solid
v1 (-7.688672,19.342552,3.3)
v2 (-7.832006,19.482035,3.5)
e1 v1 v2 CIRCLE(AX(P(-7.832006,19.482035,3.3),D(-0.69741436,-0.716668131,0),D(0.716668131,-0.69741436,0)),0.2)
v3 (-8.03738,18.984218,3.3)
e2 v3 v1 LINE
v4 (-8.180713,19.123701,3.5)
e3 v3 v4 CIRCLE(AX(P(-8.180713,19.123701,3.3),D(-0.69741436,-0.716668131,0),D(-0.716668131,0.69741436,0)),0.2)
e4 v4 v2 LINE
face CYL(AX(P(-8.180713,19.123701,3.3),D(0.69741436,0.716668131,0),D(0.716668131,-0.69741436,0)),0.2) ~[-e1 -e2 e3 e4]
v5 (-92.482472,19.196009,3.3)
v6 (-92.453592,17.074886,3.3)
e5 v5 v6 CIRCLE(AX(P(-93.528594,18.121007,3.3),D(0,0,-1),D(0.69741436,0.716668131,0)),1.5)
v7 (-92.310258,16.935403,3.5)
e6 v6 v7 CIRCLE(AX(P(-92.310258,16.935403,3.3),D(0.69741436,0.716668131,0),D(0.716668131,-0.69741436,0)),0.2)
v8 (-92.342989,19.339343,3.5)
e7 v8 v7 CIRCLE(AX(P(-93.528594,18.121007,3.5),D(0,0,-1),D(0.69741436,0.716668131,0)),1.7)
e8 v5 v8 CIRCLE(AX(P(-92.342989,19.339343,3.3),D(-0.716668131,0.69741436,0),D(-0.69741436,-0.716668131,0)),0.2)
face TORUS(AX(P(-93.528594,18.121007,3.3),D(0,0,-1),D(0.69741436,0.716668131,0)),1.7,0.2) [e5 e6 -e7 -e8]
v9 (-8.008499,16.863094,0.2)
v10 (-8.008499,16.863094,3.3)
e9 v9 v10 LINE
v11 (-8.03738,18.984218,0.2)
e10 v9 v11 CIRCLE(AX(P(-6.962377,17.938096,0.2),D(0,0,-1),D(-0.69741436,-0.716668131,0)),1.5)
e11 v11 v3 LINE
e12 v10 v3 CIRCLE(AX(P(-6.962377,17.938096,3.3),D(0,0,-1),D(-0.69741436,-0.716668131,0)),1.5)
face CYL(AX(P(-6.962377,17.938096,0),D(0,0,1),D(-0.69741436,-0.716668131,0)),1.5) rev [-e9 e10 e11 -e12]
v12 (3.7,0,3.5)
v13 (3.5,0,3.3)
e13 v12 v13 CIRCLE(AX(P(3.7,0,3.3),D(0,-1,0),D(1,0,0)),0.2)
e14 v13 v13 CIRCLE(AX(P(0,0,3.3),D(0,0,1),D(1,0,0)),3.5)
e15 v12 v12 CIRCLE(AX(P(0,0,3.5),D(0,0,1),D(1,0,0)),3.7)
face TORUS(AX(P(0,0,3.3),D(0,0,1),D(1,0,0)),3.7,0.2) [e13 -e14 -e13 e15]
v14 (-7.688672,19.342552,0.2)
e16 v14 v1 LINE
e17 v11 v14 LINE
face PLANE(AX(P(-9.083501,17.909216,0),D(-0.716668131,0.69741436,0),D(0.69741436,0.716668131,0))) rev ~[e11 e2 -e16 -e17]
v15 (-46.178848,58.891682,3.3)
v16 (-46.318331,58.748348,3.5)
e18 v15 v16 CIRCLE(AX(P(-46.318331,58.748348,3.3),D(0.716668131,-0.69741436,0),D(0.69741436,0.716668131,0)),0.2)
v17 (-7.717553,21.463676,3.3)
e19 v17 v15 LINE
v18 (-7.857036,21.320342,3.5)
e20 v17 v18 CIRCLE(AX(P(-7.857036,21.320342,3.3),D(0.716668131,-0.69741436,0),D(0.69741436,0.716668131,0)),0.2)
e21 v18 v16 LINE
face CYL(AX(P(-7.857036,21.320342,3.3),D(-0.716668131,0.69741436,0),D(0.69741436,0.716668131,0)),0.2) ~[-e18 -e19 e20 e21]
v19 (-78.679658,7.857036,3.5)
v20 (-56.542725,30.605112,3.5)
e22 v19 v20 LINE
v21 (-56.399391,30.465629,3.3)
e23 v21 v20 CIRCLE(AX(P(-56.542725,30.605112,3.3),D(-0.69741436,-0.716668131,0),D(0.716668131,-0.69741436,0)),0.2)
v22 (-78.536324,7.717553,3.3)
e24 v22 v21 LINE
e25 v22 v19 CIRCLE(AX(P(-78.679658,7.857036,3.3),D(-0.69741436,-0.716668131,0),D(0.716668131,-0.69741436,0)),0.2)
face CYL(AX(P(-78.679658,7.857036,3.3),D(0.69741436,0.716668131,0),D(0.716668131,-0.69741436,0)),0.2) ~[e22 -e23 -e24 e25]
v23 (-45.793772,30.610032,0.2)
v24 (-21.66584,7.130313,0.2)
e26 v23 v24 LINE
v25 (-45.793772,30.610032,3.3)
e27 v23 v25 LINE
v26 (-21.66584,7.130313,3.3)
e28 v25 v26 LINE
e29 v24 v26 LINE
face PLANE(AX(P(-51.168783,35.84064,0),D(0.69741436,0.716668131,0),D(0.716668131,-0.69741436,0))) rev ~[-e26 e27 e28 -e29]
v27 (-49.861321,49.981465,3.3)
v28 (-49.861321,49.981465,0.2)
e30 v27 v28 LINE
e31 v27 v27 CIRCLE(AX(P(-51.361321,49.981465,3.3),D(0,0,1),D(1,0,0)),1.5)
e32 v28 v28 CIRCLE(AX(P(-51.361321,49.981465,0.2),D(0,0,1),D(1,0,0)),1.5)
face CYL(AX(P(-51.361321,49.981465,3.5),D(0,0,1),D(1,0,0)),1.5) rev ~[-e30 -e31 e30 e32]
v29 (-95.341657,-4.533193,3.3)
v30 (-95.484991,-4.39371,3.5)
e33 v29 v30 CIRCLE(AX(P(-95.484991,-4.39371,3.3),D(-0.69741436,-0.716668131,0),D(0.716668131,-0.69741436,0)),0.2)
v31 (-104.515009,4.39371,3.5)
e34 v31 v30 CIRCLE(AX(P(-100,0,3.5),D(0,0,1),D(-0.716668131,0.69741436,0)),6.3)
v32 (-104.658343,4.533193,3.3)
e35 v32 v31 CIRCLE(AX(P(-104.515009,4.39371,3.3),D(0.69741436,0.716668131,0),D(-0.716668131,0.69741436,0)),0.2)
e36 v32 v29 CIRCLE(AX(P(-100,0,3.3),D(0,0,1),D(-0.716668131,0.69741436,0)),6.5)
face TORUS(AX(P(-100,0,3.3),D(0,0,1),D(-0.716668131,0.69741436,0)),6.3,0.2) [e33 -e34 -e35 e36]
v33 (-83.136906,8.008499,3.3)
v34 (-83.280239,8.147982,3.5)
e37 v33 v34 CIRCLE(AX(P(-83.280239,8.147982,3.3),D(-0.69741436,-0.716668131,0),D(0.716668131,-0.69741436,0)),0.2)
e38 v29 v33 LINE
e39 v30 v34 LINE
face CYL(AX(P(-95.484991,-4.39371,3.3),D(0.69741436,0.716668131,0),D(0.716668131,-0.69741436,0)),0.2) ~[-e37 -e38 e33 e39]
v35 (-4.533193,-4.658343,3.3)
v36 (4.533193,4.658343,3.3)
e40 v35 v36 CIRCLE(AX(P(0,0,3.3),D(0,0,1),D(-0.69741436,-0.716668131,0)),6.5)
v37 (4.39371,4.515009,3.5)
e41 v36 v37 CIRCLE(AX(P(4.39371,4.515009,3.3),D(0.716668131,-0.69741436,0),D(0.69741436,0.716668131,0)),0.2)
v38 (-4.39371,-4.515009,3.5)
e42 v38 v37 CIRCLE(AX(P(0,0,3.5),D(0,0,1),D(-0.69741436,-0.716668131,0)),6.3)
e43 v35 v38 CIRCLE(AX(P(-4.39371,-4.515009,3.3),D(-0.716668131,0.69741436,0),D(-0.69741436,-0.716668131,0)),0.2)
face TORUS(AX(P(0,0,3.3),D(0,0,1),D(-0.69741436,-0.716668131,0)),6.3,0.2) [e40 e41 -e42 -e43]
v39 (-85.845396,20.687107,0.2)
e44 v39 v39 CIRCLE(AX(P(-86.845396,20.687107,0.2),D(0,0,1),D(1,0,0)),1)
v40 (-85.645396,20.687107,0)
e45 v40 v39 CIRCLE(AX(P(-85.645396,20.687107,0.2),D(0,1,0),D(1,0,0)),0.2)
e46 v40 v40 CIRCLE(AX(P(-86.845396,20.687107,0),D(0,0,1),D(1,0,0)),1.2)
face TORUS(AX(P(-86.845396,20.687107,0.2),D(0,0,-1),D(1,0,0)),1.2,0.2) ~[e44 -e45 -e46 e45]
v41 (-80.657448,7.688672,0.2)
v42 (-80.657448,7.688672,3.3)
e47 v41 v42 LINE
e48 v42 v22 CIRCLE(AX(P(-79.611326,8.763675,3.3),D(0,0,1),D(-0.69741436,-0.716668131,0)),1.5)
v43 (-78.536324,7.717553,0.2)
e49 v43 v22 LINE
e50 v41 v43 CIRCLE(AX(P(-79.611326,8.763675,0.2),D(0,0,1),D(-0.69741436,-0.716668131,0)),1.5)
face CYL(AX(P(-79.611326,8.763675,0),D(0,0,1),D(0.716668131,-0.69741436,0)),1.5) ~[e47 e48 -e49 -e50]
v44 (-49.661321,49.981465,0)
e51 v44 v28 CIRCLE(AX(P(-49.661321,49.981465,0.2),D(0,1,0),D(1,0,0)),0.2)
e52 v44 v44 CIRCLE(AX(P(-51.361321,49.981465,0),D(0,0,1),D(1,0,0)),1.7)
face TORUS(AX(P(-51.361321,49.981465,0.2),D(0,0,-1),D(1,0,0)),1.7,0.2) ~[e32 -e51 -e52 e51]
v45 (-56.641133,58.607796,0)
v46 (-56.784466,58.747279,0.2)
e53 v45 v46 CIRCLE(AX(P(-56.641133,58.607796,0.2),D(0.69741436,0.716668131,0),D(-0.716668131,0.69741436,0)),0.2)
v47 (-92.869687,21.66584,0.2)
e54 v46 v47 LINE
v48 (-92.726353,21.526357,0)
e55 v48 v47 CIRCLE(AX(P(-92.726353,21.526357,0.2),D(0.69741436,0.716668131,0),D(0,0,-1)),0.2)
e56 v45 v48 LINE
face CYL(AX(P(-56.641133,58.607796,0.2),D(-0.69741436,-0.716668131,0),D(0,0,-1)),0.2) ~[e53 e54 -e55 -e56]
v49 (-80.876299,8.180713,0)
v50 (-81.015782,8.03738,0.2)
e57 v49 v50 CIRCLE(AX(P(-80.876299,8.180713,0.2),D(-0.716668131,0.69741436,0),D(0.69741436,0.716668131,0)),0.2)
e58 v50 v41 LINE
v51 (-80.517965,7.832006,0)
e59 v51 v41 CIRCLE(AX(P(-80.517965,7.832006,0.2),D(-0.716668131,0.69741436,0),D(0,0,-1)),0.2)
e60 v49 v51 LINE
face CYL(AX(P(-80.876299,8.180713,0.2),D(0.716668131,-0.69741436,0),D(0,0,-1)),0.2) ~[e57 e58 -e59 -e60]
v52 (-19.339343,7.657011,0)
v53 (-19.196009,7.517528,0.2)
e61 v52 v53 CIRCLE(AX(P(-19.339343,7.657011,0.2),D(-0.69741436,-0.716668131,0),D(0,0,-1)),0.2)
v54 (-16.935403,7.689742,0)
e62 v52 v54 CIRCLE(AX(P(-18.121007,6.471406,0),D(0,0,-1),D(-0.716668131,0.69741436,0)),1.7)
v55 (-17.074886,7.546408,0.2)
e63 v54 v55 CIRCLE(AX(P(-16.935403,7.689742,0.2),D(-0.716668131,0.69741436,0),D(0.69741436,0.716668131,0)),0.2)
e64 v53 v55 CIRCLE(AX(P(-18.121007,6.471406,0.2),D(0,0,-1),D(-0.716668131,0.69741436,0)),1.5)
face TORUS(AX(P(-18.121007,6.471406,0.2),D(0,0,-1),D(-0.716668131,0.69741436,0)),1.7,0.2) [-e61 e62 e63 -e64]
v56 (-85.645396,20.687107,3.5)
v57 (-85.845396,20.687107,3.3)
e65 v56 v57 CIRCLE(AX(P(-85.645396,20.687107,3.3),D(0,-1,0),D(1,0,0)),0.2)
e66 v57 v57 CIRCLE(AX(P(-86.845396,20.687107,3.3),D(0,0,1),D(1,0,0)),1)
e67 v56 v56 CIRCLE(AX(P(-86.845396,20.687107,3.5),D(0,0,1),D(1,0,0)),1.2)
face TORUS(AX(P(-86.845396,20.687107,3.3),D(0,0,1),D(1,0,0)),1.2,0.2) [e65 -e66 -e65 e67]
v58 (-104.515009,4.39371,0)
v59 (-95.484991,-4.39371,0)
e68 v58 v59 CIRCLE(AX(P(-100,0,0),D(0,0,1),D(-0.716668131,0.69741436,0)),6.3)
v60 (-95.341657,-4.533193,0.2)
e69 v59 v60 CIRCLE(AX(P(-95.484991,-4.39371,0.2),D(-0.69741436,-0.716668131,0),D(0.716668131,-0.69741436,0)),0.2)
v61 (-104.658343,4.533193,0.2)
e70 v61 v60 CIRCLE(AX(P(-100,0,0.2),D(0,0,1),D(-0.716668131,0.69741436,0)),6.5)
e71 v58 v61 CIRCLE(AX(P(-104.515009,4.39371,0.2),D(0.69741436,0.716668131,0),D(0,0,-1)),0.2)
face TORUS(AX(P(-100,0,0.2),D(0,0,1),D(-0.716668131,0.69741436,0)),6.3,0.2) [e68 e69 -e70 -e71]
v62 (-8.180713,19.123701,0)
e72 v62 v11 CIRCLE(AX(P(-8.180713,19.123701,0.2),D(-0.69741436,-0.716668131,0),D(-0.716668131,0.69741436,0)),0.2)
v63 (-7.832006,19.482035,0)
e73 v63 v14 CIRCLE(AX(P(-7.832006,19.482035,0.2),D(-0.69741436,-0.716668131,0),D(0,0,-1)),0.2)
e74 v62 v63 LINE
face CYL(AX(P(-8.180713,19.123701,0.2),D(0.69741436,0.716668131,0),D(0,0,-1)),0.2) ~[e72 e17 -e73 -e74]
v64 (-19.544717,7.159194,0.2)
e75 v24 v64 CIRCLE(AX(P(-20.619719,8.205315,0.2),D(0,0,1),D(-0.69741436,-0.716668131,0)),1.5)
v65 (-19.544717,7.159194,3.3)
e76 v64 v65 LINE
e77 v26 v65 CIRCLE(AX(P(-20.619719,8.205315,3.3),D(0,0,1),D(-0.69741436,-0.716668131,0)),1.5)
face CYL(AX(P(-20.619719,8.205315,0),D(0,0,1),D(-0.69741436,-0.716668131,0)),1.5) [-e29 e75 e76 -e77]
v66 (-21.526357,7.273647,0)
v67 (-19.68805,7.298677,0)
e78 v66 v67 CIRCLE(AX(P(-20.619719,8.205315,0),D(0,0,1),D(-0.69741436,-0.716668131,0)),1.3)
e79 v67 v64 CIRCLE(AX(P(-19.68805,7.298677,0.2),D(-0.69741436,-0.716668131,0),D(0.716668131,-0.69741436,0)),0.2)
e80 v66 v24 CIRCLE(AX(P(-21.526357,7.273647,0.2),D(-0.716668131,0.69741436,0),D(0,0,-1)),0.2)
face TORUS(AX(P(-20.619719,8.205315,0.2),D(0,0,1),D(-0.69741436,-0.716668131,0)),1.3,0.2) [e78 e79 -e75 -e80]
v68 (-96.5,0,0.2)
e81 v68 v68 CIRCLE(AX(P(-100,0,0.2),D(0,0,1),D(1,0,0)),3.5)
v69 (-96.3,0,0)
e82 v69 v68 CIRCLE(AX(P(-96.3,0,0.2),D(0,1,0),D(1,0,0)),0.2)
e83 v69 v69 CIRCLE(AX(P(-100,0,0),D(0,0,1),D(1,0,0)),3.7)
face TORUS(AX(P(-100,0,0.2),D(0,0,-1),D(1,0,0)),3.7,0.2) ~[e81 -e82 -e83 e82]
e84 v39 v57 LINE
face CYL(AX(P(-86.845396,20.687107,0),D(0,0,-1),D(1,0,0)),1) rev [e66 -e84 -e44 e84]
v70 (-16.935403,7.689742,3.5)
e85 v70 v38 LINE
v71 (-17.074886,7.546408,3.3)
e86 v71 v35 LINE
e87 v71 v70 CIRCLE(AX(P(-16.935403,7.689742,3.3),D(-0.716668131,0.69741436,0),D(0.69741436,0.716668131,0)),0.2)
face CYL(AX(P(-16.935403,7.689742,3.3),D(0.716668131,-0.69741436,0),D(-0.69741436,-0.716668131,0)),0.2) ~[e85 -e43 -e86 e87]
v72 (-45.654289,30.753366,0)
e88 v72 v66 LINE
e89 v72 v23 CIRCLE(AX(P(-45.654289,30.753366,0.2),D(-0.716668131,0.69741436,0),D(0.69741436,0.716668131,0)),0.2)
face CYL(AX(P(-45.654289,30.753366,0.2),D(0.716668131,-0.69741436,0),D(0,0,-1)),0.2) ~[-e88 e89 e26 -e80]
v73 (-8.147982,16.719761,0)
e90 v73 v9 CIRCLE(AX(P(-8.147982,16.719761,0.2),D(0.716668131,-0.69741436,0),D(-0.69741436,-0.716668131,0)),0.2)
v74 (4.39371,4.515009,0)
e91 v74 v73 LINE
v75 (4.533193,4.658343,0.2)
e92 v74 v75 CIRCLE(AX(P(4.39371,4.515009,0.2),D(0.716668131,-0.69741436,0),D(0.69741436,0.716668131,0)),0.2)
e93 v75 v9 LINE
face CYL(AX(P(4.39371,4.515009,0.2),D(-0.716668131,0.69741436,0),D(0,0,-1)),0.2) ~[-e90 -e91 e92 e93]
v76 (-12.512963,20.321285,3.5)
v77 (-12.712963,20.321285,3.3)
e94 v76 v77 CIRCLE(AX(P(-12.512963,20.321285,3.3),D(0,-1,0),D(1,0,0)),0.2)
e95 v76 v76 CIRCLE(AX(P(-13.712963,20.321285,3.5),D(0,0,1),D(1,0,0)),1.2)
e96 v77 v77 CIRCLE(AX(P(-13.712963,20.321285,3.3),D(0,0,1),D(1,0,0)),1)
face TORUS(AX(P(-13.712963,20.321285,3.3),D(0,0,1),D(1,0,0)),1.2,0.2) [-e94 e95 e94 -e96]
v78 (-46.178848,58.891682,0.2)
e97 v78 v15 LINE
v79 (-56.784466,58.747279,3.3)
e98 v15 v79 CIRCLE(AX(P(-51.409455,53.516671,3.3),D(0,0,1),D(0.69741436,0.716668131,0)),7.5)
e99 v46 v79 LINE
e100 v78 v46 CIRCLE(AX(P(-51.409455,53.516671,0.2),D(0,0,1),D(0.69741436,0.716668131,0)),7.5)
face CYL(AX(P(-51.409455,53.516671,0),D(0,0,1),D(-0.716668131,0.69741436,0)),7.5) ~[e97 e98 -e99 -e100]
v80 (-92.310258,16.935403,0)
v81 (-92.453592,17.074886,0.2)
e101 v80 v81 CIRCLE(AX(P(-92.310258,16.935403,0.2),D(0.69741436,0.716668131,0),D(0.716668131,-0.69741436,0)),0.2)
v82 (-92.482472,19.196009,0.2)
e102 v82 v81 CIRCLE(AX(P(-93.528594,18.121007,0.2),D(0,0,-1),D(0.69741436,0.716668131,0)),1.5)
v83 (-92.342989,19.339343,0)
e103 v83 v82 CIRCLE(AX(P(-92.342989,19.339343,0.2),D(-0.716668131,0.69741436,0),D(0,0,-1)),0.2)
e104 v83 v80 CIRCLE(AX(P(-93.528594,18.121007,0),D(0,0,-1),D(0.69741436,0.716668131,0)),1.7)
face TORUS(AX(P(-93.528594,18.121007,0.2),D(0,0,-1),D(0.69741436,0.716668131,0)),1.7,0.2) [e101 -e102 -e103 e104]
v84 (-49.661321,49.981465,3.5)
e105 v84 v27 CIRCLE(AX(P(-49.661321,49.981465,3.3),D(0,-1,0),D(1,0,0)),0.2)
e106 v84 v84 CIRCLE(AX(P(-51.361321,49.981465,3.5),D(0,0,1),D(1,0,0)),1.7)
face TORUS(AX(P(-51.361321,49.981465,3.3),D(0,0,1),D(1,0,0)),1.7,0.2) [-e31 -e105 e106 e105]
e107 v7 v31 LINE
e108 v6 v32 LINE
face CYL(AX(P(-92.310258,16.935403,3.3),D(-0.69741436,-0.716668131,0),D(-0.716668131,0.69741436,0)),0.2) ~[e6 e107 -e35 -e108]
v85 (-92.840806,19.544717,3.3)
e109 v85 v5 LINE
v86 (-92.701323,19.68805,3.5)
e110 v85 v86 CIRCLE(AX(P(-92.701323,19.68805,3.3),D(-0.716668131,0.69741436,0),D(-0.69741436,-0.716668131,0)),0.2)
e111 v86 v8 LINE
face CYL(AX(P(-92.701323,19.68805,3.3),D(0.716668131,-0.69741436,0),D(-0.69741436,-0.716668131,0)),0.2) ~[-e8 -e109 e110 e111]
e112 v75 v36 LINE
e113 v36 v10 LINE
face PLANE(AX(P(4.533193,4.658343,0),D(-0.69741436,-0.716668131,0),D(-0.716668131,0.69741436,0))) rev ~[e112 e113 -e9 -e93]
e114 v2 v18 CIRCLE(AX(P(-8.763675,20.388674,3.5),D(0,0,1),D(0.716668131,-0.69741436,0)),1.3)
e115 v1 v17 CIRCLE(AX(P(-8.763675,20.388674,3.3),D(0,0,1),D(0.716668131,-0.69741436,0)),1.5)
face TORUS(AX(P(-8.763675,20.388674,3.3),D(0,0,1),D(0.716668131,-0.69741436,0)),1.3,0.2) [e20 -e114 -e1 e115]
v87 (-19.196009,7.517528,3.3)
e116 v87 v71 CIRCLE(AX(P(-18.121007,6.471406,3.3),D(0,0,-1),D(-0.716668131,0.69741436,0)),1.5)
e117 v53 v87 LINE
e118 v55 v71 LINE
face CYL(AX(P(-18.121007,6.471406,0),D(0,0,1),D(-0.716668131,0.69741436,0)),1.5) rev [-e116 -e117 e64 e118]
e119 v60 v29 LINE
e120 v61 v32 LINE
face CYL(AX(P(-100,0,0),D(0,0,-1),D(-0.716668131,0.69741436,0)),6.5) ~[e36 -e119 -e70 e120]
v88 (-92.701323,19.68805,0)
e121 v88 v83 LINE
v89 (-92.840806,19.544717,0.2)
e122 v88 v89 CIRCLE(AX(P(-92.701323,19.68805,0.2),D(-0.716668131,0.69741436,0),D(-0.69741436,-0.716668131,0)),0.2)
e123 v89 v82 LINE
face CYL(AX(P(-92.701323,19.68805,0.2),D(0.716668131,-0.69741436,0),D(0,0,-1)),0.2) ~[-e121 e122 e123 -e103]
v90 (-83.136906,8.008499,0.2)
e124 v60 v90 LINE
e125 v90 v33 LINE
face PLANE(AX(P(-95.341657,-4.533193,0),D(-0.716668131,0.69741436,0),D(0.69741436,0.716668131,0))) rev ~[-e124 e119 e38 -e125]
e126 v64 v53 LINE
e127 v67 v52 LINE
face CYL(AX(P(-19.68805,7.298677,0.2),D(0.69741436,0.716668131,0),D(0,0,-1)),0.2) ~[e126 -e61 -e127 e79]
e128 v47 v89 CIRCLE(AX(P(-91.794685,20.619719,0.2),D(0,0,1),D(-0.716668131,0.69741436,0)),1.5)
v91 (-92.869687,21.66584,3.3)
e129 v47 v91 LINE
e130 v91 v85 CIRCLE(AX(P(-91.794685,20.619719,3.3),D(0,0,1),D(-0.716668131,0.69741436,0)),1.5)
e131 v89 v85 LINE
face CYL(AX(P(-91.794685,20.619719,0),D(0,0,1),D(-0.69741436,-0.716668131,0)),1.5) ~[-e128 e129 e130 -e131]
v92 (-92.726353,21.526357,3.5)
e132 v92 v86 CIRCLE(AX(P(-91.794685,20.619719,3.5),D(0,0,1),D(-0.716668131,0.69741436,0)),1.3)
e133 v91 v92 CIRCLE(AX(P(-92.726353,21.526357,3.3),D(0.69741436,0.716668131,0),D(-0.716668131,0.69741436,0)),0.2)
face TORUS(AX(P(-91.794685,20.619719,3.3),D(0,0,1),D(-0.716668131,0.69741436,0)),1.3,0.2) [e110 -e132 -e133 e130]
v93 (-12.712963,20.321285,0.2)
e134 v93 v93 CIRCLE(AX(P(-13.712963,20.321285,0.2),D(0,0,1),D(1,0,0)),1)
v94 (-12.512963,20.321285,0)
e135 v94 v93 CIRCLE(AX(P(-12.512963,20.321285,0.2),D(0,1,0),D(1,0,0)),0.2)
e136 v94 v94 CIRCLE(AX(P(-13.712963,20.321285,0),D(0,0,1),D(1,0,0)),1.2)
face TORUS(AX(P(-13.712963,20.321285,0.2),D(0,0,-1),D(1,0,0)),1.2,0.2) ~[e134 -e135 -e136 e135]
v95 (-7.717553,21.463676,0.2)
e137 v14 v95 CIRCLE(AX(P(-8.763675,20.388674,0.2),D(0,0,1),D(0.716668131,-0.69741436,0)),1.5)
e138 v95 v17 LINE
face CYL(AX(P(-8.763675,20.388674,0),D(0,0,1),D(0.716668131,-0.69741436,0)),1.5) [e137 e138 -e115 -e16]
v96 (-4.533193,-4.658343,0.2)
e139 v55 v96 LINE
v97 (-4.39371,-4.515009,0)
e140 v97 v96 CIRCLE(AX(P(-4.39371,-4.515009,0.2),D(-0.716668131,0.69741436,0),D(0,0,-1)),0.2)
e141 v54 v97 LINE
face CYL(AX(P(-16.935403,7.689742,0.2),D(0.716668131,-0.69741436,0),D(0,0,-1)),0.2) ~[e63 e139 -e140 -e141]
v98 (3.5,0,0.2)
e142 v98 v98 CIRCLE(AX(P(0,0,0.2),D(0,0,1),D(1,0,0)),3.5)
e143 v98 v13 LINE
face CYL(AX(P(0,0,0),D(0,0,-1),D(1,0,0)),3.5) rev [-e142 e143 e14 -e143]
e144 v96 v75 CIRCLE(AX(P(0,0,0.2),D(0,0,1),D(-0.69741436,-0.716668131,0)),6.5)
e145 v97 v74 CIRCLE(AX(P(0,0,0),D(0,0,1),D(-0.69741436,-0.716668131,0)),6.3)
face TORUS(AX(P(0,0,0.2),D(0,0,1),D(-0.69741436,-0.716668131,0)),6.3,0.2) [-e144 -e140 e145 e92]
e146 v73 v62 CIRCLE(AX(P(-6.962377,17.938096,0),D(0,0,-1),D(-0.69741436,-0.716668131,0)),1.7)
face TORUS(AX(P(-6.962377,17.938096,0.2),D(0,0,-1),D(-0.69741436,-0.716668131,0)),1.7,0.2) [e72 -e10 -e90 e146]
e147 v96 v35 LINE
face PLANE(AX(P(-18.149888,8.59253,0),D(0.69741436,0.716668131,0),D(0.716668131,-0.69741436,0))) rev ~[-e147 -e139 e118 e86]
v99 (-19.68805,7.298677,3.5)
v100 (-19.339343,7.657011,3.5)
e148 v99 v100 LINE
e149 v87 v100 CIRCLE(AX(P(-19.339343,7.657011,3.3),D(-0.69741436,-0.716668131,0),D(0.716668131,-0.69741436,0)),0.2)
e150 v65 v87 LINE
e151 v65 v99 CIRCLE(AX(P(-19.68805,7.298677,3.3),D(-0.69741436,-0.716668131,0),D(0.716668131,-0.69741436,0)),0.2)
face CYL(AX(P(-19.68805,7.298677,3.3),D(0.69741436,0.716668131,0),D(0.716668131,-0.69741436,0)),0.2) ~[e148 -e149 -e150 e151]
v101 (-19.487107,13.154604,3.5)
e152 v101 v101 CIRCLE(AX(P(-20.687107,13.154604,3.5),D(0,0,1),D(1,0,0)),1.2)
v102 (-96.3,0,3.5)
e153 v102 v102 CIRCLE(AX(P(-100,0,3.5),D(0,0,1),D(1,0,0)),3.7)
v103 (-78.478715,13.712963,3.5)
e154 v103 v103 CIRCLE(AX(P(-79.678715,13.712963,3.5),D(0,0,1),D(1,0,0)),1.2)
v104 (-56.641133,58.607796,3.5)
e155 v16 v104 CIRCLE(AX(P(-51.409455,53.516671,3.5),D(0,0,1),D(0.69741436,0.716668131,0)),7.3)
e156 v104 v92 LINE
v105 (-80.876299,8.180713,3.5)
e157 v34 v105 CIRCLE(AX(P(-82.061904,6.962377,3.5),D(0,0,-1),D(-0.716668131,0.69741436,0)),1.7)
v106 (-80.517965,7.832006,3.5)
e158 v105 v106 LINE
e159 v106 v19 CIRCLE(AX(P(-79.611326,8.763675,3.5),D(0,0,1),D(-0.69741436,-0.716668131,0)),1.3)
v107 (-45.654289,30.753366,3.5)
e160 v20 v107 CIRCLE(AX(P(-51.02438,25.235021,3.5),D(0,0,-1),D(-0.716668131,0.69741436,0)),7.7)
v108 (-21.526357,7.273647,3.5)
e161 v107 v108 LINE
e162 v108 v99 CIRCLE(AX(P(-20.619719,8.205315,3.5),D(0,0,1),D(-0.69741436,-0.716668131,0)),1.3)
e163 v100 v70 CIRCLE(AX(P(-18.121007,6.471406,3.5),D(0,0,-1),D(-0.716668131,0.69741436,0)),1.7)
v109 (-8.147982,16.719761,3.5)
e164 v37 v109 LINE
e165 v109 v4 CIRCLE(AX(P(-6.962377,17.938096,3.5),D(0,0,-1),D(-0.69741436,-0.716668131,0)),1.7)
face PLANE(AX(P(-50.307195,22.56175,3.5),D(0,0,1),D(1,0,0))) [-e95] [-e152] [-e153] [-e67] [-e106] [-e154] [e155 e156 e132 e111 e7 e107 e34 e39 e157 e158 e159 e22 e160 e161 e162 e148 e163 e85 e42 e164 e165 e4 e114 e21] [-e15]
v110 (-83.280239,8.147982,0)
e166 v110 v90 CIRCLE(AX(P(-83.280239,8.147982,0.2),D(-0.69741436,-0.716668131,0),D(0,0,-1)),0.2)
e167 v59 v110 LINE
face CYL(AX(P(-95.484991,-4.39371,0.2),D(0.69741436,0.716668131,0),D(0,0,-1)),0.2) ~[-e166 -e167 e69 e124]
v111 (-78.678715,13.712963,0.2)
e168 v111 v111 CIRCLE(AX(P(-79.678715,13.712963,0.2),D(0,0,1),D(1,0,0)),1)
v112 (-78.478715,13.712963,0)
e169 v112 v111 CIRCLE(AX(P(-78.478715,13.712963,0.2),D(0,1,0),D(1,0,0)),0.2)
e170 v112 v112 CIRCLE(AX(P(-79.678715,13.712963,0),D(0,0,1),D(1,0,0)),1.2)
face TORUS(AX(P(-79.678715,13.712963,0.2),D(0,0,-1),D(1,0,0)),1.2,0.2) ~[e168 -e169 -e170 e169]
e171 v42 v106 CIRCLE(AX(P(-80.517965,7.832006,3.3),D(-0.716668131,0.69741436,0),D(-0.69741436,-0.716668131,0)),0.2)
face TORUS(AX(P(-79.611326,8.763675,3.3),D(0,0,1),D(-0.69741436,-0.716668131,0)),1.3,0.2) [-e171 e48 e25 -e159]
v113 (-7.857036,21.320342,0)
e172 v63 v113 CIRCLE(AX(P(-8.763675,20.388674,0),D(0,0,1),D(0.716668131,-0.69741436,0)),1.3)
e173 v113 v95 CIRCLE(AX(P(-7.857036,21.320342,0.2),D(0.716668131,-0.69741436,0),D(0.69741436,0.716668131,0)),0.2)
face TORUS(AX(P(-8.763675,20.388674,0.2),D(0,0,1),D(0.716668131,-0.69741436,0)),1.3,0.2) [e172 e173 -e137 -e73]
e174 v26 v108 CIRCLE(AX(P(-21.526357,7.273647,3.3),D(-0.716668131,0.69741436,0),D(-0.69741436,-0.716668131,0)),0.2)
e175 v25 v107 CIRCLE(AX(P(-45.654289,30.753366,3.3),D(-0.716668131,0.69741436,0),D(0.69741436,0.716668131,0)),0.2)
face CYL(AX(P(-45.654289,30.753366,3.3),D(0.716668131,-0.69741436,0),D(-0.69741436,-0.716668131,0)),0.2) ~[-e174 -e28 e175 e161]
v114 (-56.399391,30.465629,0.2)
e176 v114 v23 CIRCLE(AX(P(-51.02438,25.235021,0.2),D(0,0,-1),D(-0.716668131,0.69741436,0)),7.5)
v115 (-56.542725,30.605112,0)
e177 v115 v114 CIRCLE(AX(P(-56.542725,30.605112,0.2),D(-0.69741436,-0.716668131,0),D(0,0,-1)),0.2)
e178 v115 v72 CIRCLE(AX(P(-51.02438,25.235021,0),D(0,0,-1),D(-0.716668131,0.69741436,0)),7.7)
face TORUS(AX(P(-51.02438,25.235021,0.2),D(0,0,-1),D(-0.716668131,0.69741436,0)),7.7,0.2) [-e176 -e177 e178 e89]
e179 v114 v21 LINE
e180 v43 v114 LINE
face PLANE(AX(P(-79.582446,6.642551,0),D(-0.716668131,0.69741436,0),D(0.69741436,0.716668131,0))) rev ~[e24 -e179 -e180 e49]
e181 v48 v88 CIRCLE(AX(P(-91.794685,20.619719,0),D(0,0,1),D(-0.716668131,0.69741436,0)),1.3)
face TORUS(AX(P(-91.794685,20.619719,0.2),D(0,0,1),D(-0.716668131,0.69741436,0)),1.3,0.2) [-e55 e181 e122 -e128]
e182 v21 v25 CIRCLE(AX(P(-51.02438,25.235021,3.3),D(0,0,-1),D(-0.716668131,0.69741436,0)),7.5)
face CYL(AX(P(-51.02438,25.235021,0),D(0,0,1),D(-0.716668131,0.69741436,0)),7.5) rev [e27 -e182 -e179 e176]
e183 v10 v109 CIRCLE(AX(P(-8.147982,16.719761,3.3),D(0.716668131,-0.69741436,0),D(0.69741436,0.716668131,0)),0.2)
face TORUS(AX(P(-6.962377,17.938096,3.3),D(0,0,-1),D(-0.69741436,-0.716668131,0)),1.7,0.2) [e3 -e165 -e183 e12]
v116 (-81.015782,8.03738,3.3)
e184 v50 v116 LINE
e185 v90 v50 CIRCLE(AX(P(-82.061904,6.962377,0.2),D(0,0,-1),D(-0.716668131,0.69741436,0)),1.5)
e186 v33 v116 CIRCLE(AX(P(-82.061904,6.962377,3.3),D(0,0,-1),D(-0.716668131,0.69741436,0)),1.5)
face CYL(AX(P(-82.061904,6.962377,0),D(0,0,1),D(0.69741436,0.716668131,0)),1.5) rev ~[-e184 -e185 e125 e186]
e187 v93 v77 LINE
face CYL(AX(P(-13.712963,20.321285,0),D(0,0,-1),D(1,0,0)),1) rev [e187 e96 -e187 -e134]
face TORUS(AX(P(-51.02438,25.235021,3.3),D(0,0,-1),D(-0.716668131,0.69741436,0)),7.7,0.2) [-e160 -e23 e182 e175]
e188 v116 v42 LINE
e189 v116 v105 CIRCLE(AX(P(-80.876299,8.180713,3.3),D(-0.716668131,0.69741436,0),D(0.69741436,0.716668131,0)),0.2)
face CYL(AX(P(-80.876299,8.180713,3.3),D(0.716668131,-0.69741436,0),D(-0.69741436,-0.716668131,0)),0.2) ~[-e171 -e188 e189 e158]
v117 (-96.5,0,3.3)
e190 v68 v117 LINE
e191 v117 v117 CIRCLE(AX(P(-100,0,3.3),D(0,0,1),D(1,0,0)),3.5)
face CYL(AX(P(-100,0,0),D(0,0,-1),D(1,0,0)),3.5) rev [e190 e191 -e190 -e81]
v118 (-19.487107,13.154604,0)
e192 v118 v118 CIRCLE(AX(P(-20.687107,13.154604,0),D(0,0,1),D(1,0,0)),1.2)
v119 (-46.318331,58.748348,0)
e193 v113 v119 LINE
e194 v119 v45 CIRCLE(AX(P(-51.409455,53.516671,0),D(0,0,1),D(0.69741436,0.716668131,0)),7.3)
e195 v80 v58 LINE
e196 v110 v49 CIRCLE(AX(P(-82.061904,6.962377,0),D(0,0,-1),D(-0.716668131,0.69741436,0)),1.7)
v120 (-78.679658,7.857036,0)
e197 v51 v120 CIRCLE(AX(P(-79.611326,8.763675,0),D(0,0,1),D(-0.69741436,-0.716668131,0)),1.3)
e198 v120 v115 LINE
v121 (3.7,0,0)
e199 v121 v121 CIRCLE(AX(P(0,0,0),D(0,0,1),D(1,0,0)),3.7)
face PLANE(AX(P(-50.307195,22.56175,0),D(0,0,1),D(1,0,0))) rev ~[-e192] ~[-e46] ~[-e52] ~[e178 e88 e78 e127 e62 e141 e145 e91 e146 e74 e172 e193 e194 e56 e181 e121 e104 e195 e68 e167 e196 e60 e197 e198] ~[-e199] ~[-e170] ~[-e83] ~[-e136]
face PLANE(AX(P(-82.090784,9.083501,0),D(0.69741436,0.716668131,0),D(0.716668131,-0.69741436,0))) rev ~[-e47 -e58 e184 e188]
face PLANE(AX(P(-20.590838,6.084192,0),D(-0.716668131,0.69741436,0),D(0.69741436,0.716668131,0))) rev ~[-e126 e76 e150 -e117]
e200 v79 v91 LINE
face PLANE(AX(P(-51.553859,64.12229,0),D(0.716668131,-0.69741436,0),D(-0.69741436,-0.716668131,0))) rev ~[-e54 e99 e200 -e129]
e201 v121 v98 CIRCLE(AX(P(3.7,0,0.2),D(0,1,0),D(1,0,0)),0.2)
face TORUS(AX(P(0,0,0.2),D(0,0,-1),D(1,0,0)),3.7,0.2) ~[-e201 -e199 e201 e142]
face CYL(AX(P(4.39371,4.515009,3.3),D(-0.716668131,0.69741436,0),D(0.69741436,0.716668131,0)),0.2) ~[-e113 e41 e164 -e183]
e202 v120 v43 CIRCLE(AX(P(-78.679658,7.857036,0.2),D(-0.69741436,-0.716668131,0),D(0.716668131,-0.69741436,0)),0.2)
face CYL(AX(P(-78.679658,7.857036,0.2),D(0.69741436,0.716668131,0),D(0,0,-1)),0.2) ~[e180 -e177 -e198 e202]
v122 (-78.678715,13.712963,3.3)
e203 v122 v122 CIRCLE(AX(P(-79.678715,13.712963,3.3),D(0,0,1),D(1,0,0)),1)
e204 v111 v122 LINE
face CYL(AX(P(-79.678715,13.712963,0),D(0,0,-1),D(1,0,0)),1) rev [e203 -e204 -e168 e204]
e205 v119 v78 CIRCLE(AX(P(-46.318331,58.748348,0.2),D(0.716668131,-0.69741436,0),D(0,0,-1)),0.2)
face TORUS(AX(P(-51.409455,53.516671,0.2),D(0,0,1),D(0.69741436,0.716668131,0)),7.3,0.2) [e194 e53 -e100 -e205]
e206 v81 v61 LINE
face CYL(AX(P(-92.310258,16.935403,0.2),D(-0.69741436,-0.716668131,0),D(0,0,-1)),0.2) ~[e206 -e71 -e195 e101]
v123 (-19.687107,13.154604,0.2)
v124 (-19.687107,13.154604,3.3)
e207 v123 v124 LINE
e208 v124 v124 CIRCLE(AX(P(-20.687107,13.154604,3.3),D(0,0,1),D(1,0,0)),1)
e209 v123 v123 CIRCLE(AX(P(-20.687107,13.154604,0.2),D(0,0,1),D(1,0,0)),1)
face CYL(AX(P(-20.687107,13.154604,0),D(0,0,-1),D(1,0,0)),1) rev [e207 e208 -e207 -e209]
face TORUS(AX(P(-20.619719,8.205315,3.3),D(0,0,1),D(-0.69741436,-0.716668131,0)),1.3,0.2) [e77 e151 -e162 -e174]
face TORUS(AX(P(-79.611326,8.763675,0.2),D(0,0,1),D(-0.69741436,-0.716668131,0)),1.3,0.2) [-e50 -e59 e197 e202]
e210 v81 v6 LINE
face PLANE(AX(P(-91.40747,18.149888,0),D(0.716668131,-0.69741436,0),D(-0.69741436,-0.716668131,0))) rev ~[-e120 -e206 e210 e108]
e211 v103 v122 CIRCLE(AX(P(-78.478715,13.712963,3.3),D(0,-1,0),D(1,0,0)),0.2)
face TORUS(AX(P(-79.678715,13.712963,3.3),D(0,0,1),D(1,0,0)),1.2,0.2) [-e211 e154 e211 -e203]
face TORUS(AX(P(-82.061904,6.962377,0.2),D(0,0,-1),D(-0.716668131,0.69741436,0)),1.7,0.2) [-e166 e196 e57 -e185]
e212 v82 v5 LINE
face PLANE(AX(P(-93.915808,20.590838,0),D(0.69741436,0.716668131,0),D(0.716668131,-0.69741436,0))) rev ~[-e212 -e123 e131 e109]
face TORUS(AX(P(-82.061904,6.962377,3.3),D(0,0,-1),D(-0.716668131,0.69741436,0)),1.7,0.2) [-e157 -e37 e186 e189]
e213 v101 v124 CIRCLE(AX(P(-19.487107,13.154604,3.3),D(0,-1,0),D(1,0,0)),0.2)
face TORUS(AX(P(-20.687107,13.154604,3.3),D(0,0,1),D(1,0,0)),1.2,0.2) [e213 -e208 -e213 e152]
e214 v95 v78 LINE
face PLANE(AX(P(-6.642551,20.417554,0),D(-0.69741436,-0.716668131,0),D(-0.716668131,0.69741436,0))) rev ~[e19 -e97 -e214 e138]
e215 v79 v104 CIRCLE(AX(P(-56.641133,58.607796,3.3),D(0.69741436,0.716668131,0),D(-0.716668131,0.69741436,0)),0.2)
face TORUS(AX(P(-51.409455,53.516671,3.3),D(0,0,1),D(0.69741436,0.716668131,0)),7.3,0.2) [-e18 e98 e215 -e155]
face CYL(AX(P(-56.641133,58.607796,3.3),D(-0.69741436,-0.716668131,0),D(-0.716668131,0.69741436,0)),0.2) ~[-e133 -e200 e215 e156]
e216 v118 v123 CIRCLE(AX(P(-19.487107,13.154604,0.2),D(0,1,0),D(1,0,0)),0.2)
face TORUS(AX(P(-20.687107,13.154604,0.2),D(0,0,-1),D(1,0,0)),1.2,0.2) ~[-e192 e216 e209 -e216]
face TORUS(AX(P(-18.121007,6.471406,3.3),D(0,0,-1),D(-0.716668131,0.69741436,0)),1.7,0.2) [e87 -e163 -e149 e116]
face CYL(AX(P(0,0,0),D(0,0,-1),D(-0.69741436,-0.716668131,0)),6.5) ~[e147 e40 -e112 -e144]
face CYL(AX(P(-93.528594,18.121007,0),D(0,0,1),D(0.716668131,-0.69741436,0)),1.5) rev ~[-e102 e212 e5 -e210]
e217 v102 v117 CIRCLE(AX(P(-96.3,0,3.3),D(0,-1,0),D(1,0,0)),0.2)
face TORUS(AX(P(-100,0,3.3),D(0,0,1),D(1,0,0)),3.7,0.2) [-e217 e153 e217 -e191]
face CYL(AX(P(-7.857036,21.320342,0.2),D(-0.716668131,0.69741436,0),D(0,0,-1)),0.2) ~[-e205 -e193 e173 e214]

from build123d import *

# Parameters (mm, degrees)
SKETCH4_R           = 3.5
SKETCH4_R_2         = 1
BOSS_EXTRUDE1_DEPTH = 3.5
SKETCH6_R           = 1.5
CUT_EXTRUDE1_DEPTH  = 3.5
FILLET1_R           = 7.5
FILLET2_R           = 1.5
FILLET3_R           = 0.2


with BuildPart() as part:
    # Sketch4 → Boss-Extrude1 (new body)
    with BuildSketch(Plane.XY):
        with BuildLine():
            Line((-79.582445844, 6.642550886), (-51.168783294, 35.840639702))
            Line((-51.168783294, 35.840639702), (-20.590838093, 6.084191536))
            Line((-20.590838093, 6.084191536), (-18.149887831, 8.592529995))
            Line((-18.149887831, 8.592529995), (-4.533193342, -4.658342852))
            ThreePointArc((-4.533193342, -4.658342852), (4.658342852, -4.533193342), (4.533193342, 4.658342852))
            Line((4.533193342, 4.658342852), (-9.083501147, 17.909215698))
            Line((-9.083501147, 17.909215698), (-6.642550886, 20.417554156))
            Line((-6.642550886, 20.417554156), (-51.553858708, 64.122289529))
            Line((-51.553858708, 64.122289529), (-93.915808464, 20.590838093))
            Line((-93.915808464, 20.590838093), (-91.407470005, 18.149887831))
            Line((-91.407470005, 18.149887831), (-104.658342852, 4.533193342))
            ThreePointArc((-104.658342852, 4.533193342), (-104.533193342, -4.658342852), (-95.341657148, -4.533193342))
            Line((-95.341657148, -4.533193342), (-82.090784302, 9.083501147))
            Line((-82.090784302, 9.083501147), (-79.582445844, 6.642550886))
        make_face()
        Circle(SKETCH4_R, mode=Mode.SUBTRACT)
        with Locations((-100, 0)):
            Circle(SKETCH4_R, mode=Mode.SUBTRACT)
        with Locations((-86.845396007, 20.687106946)):
            Circle(SKETCH4_R_2, mode=Mode.SUBTRACT)
        with Locations((-79.678714697, 13.712963343)):
            Circle(SKETCH4_R_2, mode=Mode.SUBTRACT)
        with Locations((-20.687106946, 13.154603993)):
            Circle(SKETCH4_R_2, mode=Mode.SUBTRACT)
        with Locations((-13.712963343, 20.321285303)):
            Circle(SKETCH4_R_2, mode=Mode.SUBTRACT)
    extrude(amount=BOSS_EXTRUDE1_DEPTH)

    # Sketch6 → Cut-Extrude1 (cut)
    with BuildSketch(Plane.XY.offset(3.5)):
        with Locations((-51.361321001, 49.981464616)):
            Circle(SKETCH6_R)
    extrude(amount=-CUT_EXTRUDE1_DEPTH, mode=Mode.SUBTRACT)

    # Fillet1
    fillet1_edges = [part.edges().sort_by_distance(p)[0] for p in [
        (-51.553858708, 64.122289529, 1.75),
        (-51.168783294, 35.840639702, 1.75),
    ]]
    fillet(fillet1_edges, radius=FILLET1_R)

    # Fillet2
    fillet2_edges = [part.edges().sort_by_distance(p)[0] for p in [
        (-82.090784302, 9.083501147, 1.75),
        (-91.407470005, 18.149887831, 1.75),
        (-93.915808464, 20.590838093, 1.75),
        (-6.642550886, 20.417554156, 1.75),
        (-9.083501147, 17.909215698, 1.75),
        (-18.149887831, 8.592529995, 1.75),
        (-20.590838093, 6.084191536, 1.75),
        (-79.582445844, 6.642550886, 1.75),
    ]]
    fillet(fillet2_edges, radius=FILLET2_R)

    # Fillet3
    fillet3_edges = [part.edges().sort_by_distance(p)[0] for p in [
        (-67.46785765, 19.091590901, 3.5),
        (-19.370362962, 7.338360765, 3.5),
        (-10.804039488, 1.444032801, 3.5),
        (-93.294545705, 20.599297041, 3.5),
        (-79.590904792, 7.263813645, 3.5),
        (-20.599297041, 6.705454295, 3.5),
        (-7.263813645, 20.409095208, 3.5),
        (-8.462238388, 17.917674646, 0),
        (-8.462238388, 17.917674646, 3.5),
        (-18.141428883, 7.971267236, 0),
        (-18.141428883, 7.971267236, 3.5),
        (-82.082325354, 8.462238388, 0),
        (-82.082325354, 8.462238388, 3.5),
        (-92.028732764, 18.141428883, 0),
        (-92.028732764, 18.141428883, 3.5),
        (-89.239281496, 1.737652804, 0),
        (-104.533193342, -4.658342852, 0),
        (-1.737652804, 10.760718504, 0),
        (4.658342852, -4.533193342, 0),
        (4.658342852, -4.533193342, 3.5),
        (-1.737652804, 10.760718504, 3.5),
        (-3.5, 0, 0),
        (-3.5, 0, 3.5),
        (-103.5, 0, 0),
        (-103.5, 0, 3.5),
        (-87.845396007, 20.687106946, 0),
        (-87.845396007, 20.687106946, 3.5),
        (-80.678714697, 13.712963343, 0),
        (-80.678714697, 13.712963343, 3.5),
        (-21.687106946, 13.154603993, 0),
        (-21.687106946, 13.154603993, 3.5),
        (-104.533193342, -4.658342852, 3.5),
        (-14.712963343, 20.321285303, 0),
        (-14.712963343, 20.321285303, 3.5),
        (-89.239281496, 1.737652804, 3.5),
        (-52.861321001, 49.981464616, 0),
        (-52.861321001, 49.981464616, 3.5),
        (-33.7298063, 18.870172538, 0),
        (-33.7298063, 18.870172538, 3.5),
        (-74.827076667, 40.206559418, 0),
        (-74.827076667, 40.206559418, 3.5),
        (-51.511563966, 61.015975735, 0),
        (-51.511563966, 61.015975735, 3.5),
        (-51.126488552, 32.734325908, 0),
        (-51.126488552, 32.734325908, 3.5),
        (-26.948200404, 40.177678762, 0),
        (-26.948200404, 40.177678762, 3.5),
        (-7.863026017, 19.163384927, 0),
        (-10.804039488, 1.444032801, 0),
        (-19.370362962, 7.338360765, 0),
        (-67.46785765, 19.091590901, 0),
        (-80.836615073, 7.863026017, 0),
        (-98.555967199, 10.804039488, 0),
        (-92.661639235, 19.370362962, 0),
        (-93.294545705, 20.599297041, 0),
        (-79.590904792, 7.263813645, 0),
        (-20.599297041, 6.705454295, 0),
        (-7.263813645, 20.409095208, 0),
        (-7.863026017, 19.163384927, 3.5),
        (-92.661639235, 19.370362962, 3.5),
        (-98.555967199, 10.804039488, 3.5),
        (-80.836615073, 7.863026017, 3.5),
    ]]
    fillet(fillet3_edges, radius=FILLET3_R)


solid = part.part
